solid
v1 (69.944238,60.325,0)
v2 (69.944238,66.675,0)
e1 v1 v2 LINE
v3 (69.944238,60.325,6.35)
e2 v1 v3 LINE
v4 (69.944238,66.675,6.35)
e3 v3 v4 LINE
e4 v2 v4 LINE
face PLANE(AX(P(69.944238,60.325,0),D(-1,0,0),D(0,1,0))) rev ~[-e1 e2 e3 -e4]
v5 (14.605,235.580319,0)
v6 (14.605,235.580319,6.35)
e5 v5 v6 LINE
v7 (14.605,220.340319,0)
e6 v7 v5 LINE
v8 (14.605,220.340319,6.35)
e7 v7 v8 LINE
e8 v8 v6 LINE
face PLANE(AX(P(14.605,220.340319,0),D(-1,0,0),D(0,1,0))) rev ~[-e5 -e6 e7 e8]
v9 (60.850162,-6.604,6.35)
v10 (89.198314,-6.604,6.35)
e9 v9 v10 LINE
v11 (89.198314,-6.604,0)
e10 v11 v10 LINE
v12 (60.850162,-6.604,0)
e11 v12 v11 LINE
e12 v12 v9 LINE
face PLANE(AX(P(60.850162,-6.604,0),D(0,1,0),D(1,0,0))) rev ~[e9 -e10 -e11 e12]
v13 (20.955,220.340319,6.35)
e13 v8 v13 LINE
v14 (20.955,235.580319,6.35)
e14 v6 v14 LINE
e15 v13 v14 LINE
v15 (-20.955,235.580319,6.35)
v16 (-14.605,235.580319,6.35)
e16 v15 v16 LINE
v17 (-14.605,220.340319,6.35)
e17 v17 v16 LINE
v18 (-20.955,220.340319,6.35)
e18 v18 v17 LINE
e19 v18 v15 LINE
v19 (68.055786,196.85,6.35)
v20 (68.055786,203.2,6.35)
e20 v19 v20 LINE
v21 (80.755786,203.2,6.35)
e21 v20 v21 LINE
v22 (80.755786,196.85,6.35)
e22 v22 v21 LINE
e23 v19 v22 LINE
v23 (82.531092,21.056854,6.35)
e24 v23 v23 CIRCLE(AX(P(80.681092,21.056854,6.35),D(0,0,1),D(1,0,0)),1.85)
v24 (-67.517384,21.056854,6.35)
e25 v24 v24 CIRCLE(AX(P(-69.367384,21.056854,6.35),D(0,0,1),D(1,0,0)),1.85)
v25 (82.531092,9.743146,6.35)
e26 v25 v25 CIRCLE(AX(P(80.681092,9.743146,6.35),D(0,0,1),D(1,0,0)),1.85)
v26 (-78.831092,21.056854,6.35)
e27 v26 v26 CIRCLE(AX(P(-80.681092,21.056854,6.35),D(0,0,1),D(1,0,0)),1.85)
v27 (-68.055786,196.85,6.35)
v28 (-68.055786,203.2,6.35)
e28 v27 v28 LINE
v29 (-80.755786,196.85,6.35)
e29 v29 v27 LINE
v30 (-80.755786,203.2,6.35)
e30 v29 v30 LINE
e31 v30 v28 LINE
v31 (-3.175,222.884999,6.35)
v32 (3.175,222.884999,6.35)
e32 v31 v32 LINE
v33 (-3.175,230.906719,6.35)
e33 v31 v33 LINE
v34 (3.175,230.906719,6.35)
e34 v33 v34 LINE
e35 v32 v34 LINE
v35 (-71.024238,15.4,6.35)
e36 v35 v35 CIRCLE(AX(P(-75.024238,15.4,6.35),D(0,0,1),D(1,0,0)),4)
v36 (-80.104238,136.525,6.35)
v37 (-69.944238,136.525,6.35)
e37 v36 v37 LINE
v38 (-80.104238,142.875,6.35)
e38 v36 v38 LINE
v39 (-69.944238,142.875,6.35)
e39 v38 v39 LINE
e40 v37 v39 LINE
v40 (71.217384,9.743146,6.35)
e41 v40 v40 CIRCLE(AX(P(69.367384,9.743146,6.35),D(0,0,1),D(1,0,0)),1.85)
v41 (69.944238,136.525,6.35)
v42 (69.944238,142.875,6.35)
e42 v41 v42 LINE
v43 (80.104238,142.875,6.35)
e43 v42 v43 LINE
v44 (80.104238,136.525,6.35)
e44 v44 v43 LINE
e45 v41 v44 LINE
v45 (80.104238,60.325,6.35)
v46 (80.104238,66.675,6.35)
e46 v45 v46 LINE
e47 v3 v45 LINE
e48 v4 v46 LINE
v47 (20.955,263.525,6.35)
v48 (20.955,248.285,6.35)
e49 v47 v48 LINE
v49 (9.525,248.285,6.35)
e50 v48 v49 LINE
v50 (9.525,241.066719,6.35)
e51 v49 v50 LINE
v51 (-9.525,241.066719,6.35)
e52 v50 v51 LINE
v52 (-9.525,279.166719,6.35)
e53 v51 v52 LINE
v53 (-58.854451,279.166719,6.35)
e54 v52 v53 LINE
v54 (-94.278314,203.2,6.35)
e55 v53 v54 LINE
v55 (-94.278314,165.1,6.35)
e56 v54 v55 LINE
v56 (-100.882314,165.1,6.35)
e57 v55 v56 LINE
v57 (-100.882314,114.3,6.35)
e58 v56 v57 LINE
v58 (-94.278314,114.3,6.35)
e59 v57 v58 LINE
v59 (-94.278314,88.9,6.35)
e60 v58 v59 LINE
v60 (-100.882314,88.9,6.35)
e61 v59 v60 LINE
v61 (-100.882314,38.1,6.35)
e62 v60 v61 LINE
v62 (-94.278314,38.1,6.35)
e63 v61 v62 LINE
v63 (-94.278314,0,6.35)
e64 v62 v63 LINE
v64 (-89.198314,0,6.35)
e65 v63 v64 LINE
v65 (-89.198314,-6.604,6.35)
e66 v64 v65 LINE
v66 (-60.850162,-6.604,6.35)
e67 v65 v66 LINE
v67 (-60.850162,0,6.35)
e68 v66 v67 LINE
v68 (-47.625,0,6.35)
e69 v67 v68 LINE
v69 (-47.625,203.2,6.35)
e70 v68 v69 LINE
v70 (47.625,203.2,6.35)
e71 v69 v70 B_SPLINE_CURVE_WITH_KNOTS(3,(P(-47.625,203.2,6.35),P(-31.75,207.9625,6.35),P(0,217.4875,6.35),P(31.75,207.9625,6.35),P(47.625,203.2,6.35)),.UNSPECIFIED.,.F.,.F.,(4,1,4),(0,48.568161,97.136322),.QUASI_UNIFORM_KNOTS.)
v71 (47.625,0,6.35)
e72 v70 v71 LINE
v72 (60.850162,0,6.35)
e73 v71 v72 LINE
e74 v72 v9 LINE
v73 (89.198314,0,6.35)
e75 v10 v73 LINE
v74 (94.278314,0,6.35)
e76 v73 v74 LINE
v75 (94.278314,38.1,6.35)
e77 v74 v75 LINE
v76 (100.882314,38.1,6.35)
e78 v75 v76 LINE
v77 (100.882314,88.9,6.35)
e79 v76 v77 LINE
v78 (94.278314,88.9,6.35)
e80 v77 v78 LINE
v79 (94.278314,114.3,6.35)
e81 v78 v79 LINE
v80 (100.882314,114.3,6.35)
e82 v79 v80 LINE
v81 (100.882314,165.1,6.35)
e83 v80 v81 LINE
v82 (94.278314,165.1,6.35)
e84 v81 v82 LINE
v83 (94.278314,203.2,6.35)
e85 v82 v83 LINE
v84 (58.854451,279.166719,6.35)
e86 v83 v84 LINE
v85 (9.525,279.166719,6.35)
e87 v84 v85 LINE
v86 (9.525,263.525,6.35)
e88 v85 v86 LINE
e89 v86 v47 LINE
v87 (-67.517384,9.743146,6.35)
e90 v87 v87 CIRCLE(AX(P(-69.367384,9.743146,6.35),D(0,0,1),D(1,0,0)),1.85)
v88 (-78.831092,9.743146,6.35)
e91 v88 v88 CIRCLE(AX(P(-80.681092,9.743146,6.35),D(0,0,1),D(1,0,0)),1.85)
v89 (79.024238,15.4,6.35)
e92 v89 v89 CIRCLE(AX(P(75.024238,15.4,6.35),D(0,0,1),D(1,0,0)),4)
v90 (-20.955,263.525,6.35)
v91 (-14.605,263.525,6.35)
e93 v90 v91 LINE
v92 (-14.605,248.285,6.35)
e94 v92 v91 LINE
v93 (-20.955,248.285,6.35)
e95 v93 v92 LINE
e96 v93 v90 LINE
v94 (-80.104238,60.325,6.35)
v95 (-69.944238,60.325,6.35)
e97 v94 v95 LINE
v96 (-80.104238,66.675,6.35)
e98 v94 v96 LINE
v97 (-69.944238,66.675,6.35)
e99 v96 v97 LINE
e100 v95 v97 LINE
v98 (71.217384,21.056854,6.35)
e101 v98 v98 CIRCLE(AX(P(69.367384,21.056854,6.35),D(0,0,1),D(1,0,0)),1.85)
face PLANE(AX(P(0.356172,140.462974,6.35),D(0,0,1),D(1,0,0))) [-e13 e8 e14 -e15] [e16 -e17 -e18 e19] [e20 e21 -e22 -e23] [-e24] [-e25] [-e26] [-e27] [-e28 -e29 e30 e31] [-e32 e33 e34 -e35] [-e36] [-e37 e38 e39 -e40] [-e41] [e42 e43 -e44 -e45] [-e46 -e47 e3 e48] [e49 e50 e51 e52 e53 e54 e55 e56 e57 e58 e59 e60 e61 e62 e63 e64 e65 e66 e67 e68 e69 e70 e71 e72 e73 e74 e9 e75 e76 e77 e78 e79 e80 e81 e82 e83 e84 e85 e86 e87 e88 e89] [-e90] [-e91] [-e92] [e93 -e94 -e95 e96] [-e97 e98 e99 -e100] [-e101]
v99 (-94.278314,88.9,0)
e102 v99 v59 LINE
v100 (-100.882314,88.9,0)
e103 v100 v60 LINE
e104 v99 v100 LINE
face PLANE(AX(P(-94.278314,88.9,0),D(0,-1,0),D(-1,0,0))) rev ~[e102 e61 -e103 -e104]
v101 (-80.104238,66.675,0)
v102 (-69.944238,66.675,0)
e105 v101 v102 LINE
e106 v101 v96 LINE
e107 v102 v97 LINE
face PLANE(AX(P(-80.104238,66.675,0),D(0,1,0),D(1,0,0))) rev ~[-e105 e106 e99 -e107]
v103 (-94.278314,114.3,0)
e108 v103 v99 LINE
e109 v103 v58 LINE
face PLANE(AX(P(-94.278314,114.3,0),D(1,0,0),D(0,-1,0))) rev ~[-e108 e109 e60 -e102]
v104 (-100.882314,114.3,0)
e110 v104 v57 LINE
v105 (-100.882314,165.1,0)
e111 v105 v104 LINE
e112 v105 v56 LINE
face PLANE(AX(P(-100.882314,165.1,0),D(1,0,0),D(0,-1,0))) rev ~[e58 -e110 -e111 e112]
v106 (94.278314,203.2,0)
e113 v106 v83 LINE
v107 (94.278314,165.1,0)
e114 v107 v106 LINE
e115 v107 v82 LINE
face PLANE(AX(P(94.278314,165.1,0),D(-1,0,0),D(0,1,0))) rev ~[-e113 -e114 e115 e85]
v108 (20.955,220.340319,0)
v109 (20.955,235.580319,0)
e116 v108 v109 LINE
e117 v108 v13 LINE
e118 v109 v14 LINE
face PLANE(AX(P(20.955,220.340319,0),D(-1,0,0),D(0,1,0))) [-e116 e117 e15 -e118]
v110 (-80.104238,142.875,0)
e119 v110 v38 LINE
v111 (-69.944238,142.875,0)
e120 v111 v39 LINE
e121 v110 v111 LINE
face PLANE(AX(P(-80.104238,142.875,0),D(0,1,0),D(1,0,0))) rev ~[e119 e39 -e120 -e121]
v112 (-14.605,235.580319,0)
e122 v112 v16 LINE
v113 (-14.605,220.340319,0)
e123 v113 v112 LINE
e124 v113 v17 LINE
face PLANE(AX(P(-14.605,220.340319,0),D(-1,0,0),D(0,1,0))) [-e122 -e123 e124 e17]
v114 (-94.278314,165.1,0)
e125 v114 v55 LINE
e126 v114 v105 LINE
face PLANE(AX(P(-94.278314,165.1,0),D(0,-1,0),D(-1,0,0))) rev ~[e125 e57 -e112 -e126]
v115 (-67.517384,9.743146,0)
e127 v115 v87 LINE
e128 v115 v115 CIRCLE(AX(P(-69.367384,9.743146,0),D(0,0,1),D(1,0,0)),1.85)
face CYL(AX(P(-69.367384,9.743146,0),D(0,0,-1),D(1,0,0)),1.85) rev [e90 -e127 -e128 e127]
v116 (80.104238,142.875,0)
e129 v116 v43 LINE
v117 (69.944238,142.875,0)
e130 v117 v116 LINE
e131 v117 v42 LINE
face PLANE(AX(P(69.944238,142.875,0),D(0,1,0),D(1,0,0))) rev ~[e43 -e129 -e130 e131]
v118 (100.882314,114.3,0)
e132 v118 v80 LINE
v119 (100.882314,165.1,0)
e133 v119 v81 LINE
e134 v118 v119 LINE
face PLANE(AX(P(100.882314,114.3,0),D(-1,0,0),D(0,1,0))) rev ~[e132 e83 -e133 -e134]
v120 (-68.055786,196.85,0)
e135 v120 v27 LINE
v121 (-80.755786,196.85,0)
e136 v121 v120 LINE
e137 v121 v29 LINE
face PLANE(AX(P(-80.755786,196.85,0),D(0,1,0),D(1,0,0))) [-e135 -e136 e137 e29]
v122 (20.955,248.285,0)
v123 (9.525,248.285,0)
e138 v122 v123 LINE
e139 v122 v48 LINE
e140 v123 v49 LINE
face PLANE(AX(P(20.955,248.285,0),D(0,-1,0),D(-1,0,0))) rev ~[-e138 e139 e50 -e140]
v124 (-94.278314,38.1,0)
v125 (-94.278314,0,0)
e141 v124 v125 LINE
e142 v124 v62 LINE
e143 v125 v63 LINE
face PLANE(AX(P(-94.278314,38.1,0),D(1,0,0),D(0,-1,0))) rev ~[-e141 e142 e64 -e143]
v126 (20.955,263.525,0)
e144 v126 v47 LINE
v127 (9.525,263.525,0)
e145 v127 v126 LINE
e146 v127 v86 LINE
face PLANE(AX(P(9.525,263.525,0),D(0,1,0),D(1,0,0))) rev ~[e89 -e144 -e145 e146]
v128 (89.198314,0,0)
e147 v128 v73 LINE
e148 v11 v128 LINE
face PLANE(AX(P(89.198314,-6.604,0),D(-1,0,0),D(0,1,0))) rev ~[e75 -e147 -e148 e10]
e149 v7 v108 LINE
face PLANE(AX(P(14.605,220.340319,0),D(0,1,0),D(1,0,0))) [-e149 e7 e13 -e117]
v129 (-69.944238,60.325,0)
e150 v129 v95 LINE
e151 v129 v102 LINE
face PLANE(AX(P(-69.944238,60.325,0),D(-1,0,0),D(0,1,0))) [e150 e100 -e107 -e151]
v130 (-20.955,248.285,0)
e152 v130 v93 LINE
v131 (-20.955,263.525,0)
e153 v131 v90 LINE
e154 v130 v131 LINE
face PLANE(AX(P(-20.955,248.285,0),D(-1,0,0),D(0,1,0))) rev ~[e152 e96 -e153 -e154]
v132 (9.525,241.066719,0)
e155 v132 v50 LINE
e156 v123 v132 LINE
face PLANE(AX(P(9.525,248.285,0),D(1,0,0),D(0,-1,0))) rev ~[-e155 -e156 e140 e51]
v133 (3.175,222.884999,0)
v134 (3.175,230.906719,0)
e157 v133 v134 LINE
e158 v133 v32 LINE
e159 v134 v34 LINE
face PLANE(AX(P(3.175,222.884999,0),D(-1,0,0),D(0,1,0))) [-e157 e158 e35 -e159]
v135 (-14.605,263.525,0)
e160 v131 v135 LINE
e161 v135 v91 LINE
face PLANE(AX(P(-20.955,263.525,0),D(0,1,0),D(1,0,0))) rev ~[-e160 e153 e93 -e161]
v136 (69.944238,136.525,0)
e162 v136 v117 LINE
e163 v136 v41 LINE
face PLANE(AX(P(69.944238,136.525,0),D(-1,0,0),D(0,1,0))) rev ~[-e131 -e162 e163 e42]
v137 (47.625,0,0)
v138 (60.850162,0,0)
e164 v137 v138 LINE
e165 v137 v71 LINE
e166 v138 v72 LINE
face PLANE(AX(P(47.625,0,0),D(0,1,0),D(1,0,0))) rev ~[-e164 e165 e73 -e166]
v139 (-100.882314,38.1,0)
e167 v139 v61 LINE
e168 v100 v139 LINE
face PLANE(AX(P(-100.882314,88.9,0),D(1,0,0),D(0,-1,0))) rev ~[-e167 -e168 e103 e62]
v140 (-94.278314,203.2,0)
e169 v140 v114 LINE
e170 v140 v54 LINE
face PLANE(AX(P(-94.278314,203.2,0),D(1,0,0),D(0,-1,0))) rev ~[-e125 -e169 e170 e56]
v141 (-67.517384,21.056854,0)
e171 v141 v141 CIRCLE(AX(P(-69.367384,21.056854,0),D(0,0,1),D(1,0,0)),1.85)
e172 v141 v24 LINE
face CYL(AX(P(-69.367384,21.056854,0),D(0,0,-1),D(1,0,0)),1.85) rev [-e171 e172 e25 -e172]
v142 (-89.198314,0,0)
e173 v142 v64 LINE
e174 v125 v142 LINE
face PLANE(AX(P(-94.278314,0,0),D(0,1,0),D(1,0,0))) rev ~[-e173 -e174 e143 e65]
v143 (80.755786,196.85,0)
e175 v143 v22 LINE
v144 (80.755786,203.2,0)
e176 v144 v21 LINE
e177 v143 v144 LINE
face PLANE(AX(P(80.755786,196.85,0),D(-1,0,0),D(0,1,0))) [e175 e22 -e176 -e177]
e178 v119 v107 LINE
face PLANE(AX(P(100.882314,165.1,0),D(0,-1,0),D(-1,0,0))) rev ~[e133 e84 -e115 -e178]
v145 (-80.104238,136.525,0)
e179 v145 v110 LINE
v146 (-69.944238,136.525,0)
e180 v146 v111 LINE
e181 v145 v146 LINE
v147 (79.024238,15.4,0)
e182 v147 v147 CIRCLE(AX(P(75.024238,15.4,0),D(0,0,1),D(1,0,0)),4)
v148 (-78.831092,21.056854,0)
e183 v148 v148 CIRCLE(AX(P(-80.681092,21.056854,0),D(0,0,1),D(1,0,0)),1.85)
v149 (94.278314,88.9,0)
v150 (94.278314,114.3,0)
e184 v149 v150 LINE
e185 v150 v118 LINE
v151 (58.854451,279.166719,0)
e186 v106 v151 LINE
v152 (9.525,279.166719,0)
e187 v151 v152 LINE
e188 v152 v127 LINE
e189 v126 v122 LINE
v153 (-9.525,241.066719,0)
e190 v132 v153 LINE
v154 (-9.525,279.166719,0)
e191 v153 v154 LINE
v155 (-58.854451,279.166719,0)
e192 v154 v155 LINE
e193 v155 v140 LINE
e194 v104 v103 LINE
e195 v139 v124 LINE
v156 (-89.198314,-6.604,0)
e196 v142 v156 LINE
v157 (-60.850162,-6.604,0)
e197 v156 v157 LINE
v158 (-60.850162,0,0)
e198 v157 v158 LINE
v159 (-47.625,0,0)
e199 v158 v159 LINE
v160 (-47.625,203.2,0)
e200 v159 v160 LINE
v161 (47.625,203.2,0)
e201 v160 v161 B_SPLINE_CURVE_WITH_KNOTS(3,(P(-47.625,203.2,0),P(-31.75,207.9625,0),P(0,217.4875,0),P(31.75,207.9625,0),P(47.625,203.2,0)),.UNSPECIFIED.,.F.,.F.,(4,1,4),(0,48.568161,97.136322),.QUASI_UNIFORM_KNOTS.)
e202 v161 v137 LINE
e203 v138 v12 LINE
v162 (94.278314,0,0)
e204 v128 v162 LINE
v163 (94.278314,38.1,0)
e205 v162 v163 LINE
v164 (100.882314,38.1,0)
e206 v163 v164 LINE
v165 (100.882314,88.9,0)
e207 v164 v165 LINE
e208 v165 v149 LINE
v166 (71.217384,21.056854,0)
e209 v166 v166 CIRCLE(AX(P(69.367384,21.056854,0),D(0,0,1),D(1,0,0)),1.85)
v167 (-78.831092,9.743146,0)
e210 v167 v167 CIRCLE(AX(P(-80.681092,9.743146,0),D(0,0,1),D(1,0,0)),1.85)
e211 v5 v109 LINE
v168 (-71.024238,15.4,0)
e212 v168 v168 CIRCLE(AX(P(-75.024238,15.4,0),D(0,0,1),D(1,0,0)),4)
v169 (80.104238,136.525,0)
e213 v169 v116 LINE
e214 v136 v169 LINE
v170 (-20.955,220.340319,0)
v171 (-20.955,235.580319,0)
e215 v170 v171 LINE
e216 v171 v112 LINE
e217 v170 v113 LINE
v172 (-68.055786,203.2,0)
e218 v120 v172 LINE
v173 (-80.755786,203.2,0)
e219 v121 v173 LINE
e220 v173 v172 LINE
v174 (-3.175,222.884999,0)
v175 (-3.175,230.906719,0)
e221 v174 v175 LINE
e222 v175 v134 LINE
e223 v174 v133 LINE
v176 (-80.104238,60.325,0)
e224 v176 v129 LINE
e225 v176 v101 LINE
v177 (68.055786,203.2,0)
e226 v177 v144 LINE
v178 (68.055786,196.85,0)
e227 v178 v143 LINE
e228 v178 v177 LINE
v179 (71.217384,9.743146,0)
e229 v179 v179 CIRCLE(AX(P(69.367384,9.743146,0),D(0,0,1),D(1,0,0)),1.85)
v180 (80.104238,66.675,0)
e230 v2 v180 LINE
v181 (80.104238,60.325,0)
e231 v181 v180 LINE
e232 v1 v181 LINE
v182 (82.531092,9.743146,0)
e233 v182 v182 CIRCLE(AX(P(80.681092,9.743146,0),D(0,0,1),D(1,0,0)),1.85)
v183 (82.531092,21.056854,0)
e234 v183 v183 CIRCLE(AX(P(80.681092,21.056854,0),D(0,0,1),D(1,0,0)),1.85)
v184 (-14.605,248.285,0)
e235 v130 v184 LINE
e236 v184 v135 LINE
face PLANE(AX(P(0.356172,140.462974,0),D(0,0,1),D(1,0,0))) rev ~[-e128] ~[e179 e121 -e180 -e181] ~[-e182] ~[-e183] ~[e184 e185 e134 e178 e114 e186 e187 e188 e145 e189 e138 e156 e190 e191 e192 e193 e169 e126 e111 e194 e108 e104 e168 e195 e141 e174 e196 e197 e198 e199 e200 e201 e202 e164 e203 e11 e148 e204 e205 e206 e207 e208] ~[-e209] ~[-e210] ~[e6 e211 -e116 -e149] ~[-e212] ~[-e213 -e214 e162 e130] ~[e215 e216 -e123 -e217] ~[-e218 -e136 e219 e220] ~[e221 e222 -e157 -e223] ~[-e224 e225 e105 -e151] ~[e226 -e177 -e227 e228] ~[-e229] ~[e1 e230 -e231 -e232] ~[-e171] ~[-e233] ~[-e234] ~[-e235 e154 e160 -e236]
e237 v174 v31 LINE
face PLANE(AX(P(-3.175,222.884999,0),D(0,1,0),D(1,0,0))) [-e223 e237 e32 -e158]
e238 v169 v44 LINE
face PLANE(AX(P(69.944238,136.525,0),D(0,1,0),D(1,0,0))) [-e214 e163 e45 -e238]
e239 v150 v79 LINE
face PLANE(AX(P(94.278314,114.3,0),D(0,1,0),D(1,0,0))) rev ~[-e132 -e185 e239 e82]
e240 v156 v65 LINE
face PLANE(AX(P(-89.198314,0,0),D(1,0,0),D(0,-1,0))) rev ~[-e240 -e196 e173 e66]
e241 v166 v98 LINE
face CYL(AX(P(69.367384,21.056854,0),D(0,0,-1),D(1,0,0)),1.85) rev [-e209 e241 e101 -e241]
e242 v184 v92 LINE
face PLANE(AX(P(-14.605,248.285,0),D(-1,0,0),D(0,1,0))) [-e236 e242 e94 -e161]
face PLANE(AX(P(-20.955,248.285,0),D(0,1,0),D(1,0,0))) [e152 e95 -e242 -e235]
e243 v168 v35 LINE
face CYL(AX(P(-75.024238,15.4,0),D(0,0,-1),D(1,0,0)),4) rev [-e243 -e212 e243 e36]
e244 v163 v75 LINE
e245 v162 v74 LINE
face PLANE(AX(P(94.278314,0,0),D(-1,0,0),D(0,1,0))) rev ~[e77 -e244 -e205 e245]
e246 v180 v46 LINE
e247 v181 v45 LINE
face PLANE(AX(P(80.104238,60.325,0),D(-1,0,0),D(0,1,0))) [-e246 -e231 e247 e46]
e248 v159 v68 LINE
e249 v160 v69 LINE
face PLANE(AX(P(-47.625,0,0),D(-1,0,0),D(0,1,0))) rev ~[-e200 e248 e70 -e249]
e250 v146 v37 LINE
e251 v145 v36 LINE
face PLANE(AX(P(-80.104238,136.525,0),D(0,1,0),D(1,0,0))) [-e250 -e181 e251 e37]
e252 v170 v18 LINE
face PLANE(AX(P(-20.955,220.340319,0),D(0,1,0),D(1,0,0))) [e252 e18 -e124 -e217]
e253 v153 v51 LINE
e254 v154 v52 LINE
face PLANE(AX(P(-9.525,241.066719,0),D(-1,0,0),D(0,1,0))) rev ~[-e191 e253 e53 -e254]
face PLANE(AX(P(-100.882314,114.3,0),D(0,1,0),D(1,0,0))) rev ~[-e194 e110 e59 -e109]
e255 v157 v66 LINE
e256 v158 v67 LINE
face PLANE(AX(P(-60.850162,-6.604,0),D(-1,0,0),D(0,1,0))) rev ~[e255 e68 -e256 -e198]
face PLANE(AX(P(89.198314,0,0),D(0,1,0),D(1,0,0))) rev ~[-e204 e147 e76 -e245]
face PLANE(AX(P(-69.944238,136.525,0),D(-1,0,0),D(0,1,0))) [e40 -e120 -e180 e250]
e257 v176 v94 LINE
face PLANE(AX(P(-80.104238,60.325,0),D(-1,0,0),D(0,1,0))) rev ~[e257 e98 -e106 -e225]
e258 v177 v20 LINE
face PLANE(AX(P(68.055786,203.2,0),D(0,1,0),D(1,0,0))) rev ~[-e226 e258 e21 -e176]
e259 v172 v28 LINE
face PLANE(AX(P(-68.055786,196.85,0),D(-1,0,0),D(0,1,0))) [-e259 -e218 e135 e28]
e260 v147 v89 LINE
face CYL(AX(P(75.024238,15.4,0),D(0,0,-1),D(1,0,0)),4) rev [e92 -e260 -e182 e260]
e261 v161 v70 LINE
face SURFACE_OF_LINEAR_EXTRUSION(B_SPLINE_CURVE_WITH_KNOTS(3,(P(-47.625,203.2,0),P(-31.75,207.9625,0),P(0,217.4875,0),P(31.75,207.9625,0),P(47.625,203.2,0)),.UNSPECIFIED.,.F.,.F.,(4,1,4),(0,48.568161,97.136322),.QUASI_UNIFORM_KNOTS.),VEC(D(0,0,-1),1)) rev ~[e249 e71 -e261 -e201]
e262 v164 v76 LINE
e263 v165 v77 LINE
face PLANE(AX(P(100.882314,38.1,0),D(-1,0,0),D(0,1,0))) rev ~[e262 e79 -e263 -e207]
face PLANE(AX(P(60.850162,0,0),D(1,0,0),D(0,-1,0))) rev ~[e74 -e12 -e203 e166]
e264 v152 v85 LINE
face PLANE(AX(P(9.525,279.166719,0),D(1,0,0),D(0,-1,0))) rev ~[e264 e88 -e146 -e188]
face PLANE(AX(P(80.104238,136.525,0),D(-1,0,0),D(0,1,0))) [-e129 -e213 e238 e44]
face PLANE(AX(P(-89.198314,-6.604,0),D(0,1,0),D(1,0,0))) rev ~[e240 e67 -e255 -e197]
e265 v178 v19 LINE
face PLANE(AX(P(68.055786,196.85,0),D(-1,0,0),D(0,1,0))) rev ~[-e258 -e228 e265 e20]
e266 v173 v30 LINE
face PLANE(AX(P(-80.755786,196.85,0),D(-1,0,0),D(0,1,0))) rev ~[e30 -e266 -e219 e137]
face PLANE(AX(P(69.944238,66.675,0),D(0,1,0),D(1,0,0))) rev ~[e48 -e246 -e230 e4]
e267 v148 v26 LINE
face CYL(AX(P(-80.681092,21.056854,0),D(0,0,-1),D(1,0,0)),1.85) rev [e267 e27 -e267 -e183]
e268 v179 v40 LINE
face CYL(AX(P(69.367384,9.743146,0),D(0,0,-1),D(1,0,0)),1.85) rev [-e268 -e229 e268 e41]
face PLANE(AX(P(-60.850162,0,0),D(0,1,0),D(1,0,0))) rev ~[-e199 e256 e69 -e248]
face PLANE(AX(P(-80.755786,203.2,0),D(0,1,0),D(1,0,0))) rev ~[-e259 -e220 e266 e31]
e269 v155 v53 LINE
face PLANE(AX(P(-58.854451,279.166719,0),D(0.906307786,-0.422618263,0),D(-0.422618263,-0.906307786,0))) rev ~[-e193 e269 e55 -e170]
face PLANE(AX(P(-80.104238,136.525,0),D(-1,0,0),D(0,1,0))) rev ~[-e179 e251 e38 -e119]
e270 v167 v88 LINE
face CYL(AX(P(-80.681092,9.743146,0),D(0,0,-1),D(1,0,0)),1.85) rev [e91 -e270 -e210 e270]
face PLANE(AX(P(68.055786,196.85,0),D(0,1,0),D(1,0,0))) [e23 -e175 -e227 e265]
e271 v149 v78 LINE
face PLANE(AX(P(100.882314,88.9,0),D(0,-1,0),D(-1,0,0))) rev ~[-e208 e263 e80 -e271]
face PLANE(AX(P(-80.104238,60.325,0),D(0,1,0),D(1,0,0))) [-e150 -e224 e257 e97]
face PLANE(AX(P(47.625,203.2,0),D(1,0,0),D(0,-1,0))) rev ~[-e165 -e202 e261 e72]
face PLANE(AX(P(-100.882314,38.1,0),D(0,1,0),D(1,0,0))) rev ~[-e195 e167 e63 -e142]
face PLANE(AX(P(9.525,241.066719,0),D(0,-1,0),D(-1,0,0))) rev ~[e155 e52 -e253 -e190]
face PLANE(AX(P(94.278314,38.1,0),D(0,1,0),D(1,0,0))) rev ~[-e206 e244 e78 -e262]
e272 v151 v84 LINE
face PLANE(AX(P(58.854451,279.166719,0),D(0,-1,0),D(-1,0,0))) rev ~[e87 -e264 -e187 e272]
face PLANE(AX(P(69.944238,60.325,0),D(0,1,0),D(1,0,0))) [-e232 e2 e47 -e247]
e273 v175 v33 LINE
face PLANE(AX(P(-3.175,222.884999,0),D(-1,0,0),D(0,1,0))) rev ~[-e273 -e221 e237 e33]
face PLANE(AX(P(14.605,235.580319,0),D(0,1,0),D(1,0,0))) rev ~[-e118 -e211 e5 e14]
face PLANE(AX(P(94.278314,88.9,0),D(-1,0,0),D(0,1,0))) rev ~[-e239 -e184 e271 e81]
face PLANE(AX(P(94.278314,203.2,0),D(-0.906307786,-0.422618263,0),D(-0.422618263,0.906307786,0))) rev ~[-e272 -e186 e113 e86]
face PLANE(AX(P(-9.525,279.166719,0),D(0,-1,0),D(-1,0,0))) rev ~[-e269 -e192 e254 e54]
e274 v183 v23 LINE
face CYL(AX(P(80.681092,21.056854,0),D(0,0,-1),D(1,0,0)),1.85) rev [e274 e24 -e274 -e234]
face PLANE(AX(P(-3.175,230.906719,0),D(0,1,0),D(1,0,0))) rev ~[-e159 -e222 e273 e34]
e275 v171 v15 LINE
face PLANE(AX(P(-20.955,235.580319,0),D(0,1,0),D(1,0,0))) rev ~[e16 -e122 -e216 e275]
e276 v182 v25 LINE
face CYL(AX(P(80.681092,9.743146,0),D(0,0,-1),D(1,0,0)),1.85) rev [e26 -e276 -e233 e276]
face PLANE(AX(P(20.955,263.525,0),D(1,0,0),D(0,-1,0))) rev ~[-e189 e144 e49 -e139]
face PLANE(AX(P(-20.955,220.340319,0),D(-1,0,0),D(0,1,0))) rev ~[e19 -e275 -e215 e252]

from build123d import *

# Parameters (mm, degrees)
F0_R     = 1.85
F0_R_2   = 4
F0_W     = 10.16
F0_H     = 6.35
F0_W_2   = 12.7
F0_W_3   = 6.35
F0_H_2   = 15.24
F0_H_3   = 8.021719
F1_DEPTH = 6.35


with BuildPart() as f1:
    # F0 (on Top) → F1 (new body)
    with BuildSketch(Plane.XY):
        with BuildLine():
            Line((-60.850162, -6.604), (-60.850162, 0))
            Line((-60.850162, 0), (-47.625, 0))
            Line((-47.625, 0), (-47.625, 203.2))
            add(Edge.make_bspline(
                [(-47.625, 203.2), (-31.75, 207.9625), (0, 217.4875), (31.75, 207.9625), (47.625, 203.2)],
                knots=[0, 0, 0, 0, 48.568161, 97.136322, 97.136322, 97.136322, 97.136322], degree=3))
            Line((47.625, 203.2), (47.625, 0))
            Line((47.625, 0), (60.850162, 0))
            Line((60.850162, 0), (60.850162, -6.604))
            Line((60.850162, -6.604), (89.198314, -6.604))
            Line((89.198314, -6.604), (89.198314, 0))
            Line((89.198314, 0), (94.278314, 0))
            Line((94.278314, 0), (94.278314, 38.1))
            Line((94.278314, 38.1), (100.882314, 38.1))
            Line((100.882314, 38.1), (100.882314, 88.9))
            Line((100.882314, 88.9), (94.278314, 88.9))
            Line((94.278314, 88.9), (94.278314, 114.3))
            Line((94.278314, 114.3), (100.882314, 114.3))
            Line((100.882314, 114.3), (100.882314, 165.1))
            Line((100.882314, 165.1), (94.278314, 165.1))
            Line((94.278314, 165.1), (94.278314, 203.2))
            Line((94.278314, 203.2), (58.854451, 279.166719))
            Line((58.854451, 279.166719), (9.525, 279.166719))
            Line((9.525, 279.166719), (9.525, 263.525))
            Line((9.525, 263.525), (20.955, 263.525))
            Line((20.955, 263.525), (20.955, 248.285))
            Line((20.955, 248.285), (9.525, 248.285))
            Line((9.525, 248.285), (9.525, 241.066719))
            Line((9.525, 241.066719), (-9.525, 241.066719))
            Line((-9.525, 241.066719), (-9.525, 279.166719))
            Line((-9.525, 279.166719), (-58.854451, 279.166719))
            Line((-58.854451, 279.166719), (-94.278314, 203.2))
            Line((-94.278314, 203.2), (-94.278314, 165.1))
            Line((-94.278314, 165.1), (-100.882314, 165.1))
            Line((-100.882314, 165.1), (-100.882314, 114.3))
            Line((-100.882314, 114.3), (-94.278314, 114.3))
            Line((-94.278314, 114.3), (-94.278314, 88.9))
            Line((-94.278314, 88.9), (-100.882314, 88.9))
            Line((-100.882314, 88.9), (-100.882314, 38.1))
            Line((-100.882314, 38.1), (-94.278314, 38.1))
            Line((-94.278314, 38.1), (-94.278314, 0))
            Line((-94.278314, 0), (-89.198314, 0))
            Line((-89.198314, 0), (-89.198314, -6.604))
            Line((-89.198314, -6.604), (-60.850162, -6.604))
        make_face()
        with Locations((-80.681092, 9.743146)):
            Circle(F0_R, mode=Mode.SUBTRACT)
        with Locations((-80.681092, 21.056854)):
            Circle(F0_R, mode=Mode.SUBTRACT)
        with Locations((-69.367384, 9.743146)):
            Circle(F0_R, mode=Mode.SUBTRACT)
        with Locations((-75.024238, 15.4)):
            Circle(F0_R_2, mode=Mode.SUBTRACT)
        with Locations((-69.367384, 21.056854)):
            Circle(F0_R, mode=Mode.SUBTRACT)
        with Locations((-75.024238, 63.5)):
            Rectangle(F0_W, F0_H, mode=Mode.SUBTRACT)
        with Locations((69.367384, 9.743146)):
            Circle(F0_R, mode=Mode.SUBTRACT)
        with Locations((75.024238, 15.4)):
            Circle(F0_R_2, mode=Mode.SUBTRACT)
        with Locations((69.367384, 21.056854)):
            Circle(F0_R, mode=Mode.SUBTRACT)
        with Locations((80.681092, 9.743146)):
            Circle(F0_R, mode=Mode.SUBTRACT)
        with Locations((80.681092, 21.056854)):
            Circle(F0_R, mode=Mode.SUBTRACT)
        with Locations((75.024238, 63.5)):
            Rectangle(F0_W, F0_H, mode=Mode.SUBTRACT)
        with Locations((-75.024238, 139.7)):
            Rectangle(F0_W, F0_H, mode=Mode.SUBTRACT)
        with Locations((-74.405786, 200.025)):
            Rectangle(F0_W_2, F0_H, mode=Mode.SUBTRACT)
        with Locations((-17.78, 227.960319)):
            Rectangle(F0_W_3, F0_H_2, mode=Mode.SUBTRACT)
        with Locations((-17.78, 255.905)):
            Rectangle(F0_W_3, F0_H_2, mode=Mode.SUBTRACT)
        with Locations((75.024238, 139.7)):
            Rectangle(F0_W, F0_H, mode=Mode.SUBTRACT)
        with Locations((74.405786, 200.025)):
            Rectangle(F0_W_2, F0_H, mode=Mode.SUBTRACT)
        with Locations((0, 226.895859)):
            Rectangle(F0_W_3, F0_H_3, mode=Mode.SUBTRACT)
        with Locations((17.78, 227.960319)):
            Rectangle(F0_W_3, F0_H_2, mode=Mode.SUBTRACT)
    extrude(amount=F1_DEPTH)


solid = f1.part
